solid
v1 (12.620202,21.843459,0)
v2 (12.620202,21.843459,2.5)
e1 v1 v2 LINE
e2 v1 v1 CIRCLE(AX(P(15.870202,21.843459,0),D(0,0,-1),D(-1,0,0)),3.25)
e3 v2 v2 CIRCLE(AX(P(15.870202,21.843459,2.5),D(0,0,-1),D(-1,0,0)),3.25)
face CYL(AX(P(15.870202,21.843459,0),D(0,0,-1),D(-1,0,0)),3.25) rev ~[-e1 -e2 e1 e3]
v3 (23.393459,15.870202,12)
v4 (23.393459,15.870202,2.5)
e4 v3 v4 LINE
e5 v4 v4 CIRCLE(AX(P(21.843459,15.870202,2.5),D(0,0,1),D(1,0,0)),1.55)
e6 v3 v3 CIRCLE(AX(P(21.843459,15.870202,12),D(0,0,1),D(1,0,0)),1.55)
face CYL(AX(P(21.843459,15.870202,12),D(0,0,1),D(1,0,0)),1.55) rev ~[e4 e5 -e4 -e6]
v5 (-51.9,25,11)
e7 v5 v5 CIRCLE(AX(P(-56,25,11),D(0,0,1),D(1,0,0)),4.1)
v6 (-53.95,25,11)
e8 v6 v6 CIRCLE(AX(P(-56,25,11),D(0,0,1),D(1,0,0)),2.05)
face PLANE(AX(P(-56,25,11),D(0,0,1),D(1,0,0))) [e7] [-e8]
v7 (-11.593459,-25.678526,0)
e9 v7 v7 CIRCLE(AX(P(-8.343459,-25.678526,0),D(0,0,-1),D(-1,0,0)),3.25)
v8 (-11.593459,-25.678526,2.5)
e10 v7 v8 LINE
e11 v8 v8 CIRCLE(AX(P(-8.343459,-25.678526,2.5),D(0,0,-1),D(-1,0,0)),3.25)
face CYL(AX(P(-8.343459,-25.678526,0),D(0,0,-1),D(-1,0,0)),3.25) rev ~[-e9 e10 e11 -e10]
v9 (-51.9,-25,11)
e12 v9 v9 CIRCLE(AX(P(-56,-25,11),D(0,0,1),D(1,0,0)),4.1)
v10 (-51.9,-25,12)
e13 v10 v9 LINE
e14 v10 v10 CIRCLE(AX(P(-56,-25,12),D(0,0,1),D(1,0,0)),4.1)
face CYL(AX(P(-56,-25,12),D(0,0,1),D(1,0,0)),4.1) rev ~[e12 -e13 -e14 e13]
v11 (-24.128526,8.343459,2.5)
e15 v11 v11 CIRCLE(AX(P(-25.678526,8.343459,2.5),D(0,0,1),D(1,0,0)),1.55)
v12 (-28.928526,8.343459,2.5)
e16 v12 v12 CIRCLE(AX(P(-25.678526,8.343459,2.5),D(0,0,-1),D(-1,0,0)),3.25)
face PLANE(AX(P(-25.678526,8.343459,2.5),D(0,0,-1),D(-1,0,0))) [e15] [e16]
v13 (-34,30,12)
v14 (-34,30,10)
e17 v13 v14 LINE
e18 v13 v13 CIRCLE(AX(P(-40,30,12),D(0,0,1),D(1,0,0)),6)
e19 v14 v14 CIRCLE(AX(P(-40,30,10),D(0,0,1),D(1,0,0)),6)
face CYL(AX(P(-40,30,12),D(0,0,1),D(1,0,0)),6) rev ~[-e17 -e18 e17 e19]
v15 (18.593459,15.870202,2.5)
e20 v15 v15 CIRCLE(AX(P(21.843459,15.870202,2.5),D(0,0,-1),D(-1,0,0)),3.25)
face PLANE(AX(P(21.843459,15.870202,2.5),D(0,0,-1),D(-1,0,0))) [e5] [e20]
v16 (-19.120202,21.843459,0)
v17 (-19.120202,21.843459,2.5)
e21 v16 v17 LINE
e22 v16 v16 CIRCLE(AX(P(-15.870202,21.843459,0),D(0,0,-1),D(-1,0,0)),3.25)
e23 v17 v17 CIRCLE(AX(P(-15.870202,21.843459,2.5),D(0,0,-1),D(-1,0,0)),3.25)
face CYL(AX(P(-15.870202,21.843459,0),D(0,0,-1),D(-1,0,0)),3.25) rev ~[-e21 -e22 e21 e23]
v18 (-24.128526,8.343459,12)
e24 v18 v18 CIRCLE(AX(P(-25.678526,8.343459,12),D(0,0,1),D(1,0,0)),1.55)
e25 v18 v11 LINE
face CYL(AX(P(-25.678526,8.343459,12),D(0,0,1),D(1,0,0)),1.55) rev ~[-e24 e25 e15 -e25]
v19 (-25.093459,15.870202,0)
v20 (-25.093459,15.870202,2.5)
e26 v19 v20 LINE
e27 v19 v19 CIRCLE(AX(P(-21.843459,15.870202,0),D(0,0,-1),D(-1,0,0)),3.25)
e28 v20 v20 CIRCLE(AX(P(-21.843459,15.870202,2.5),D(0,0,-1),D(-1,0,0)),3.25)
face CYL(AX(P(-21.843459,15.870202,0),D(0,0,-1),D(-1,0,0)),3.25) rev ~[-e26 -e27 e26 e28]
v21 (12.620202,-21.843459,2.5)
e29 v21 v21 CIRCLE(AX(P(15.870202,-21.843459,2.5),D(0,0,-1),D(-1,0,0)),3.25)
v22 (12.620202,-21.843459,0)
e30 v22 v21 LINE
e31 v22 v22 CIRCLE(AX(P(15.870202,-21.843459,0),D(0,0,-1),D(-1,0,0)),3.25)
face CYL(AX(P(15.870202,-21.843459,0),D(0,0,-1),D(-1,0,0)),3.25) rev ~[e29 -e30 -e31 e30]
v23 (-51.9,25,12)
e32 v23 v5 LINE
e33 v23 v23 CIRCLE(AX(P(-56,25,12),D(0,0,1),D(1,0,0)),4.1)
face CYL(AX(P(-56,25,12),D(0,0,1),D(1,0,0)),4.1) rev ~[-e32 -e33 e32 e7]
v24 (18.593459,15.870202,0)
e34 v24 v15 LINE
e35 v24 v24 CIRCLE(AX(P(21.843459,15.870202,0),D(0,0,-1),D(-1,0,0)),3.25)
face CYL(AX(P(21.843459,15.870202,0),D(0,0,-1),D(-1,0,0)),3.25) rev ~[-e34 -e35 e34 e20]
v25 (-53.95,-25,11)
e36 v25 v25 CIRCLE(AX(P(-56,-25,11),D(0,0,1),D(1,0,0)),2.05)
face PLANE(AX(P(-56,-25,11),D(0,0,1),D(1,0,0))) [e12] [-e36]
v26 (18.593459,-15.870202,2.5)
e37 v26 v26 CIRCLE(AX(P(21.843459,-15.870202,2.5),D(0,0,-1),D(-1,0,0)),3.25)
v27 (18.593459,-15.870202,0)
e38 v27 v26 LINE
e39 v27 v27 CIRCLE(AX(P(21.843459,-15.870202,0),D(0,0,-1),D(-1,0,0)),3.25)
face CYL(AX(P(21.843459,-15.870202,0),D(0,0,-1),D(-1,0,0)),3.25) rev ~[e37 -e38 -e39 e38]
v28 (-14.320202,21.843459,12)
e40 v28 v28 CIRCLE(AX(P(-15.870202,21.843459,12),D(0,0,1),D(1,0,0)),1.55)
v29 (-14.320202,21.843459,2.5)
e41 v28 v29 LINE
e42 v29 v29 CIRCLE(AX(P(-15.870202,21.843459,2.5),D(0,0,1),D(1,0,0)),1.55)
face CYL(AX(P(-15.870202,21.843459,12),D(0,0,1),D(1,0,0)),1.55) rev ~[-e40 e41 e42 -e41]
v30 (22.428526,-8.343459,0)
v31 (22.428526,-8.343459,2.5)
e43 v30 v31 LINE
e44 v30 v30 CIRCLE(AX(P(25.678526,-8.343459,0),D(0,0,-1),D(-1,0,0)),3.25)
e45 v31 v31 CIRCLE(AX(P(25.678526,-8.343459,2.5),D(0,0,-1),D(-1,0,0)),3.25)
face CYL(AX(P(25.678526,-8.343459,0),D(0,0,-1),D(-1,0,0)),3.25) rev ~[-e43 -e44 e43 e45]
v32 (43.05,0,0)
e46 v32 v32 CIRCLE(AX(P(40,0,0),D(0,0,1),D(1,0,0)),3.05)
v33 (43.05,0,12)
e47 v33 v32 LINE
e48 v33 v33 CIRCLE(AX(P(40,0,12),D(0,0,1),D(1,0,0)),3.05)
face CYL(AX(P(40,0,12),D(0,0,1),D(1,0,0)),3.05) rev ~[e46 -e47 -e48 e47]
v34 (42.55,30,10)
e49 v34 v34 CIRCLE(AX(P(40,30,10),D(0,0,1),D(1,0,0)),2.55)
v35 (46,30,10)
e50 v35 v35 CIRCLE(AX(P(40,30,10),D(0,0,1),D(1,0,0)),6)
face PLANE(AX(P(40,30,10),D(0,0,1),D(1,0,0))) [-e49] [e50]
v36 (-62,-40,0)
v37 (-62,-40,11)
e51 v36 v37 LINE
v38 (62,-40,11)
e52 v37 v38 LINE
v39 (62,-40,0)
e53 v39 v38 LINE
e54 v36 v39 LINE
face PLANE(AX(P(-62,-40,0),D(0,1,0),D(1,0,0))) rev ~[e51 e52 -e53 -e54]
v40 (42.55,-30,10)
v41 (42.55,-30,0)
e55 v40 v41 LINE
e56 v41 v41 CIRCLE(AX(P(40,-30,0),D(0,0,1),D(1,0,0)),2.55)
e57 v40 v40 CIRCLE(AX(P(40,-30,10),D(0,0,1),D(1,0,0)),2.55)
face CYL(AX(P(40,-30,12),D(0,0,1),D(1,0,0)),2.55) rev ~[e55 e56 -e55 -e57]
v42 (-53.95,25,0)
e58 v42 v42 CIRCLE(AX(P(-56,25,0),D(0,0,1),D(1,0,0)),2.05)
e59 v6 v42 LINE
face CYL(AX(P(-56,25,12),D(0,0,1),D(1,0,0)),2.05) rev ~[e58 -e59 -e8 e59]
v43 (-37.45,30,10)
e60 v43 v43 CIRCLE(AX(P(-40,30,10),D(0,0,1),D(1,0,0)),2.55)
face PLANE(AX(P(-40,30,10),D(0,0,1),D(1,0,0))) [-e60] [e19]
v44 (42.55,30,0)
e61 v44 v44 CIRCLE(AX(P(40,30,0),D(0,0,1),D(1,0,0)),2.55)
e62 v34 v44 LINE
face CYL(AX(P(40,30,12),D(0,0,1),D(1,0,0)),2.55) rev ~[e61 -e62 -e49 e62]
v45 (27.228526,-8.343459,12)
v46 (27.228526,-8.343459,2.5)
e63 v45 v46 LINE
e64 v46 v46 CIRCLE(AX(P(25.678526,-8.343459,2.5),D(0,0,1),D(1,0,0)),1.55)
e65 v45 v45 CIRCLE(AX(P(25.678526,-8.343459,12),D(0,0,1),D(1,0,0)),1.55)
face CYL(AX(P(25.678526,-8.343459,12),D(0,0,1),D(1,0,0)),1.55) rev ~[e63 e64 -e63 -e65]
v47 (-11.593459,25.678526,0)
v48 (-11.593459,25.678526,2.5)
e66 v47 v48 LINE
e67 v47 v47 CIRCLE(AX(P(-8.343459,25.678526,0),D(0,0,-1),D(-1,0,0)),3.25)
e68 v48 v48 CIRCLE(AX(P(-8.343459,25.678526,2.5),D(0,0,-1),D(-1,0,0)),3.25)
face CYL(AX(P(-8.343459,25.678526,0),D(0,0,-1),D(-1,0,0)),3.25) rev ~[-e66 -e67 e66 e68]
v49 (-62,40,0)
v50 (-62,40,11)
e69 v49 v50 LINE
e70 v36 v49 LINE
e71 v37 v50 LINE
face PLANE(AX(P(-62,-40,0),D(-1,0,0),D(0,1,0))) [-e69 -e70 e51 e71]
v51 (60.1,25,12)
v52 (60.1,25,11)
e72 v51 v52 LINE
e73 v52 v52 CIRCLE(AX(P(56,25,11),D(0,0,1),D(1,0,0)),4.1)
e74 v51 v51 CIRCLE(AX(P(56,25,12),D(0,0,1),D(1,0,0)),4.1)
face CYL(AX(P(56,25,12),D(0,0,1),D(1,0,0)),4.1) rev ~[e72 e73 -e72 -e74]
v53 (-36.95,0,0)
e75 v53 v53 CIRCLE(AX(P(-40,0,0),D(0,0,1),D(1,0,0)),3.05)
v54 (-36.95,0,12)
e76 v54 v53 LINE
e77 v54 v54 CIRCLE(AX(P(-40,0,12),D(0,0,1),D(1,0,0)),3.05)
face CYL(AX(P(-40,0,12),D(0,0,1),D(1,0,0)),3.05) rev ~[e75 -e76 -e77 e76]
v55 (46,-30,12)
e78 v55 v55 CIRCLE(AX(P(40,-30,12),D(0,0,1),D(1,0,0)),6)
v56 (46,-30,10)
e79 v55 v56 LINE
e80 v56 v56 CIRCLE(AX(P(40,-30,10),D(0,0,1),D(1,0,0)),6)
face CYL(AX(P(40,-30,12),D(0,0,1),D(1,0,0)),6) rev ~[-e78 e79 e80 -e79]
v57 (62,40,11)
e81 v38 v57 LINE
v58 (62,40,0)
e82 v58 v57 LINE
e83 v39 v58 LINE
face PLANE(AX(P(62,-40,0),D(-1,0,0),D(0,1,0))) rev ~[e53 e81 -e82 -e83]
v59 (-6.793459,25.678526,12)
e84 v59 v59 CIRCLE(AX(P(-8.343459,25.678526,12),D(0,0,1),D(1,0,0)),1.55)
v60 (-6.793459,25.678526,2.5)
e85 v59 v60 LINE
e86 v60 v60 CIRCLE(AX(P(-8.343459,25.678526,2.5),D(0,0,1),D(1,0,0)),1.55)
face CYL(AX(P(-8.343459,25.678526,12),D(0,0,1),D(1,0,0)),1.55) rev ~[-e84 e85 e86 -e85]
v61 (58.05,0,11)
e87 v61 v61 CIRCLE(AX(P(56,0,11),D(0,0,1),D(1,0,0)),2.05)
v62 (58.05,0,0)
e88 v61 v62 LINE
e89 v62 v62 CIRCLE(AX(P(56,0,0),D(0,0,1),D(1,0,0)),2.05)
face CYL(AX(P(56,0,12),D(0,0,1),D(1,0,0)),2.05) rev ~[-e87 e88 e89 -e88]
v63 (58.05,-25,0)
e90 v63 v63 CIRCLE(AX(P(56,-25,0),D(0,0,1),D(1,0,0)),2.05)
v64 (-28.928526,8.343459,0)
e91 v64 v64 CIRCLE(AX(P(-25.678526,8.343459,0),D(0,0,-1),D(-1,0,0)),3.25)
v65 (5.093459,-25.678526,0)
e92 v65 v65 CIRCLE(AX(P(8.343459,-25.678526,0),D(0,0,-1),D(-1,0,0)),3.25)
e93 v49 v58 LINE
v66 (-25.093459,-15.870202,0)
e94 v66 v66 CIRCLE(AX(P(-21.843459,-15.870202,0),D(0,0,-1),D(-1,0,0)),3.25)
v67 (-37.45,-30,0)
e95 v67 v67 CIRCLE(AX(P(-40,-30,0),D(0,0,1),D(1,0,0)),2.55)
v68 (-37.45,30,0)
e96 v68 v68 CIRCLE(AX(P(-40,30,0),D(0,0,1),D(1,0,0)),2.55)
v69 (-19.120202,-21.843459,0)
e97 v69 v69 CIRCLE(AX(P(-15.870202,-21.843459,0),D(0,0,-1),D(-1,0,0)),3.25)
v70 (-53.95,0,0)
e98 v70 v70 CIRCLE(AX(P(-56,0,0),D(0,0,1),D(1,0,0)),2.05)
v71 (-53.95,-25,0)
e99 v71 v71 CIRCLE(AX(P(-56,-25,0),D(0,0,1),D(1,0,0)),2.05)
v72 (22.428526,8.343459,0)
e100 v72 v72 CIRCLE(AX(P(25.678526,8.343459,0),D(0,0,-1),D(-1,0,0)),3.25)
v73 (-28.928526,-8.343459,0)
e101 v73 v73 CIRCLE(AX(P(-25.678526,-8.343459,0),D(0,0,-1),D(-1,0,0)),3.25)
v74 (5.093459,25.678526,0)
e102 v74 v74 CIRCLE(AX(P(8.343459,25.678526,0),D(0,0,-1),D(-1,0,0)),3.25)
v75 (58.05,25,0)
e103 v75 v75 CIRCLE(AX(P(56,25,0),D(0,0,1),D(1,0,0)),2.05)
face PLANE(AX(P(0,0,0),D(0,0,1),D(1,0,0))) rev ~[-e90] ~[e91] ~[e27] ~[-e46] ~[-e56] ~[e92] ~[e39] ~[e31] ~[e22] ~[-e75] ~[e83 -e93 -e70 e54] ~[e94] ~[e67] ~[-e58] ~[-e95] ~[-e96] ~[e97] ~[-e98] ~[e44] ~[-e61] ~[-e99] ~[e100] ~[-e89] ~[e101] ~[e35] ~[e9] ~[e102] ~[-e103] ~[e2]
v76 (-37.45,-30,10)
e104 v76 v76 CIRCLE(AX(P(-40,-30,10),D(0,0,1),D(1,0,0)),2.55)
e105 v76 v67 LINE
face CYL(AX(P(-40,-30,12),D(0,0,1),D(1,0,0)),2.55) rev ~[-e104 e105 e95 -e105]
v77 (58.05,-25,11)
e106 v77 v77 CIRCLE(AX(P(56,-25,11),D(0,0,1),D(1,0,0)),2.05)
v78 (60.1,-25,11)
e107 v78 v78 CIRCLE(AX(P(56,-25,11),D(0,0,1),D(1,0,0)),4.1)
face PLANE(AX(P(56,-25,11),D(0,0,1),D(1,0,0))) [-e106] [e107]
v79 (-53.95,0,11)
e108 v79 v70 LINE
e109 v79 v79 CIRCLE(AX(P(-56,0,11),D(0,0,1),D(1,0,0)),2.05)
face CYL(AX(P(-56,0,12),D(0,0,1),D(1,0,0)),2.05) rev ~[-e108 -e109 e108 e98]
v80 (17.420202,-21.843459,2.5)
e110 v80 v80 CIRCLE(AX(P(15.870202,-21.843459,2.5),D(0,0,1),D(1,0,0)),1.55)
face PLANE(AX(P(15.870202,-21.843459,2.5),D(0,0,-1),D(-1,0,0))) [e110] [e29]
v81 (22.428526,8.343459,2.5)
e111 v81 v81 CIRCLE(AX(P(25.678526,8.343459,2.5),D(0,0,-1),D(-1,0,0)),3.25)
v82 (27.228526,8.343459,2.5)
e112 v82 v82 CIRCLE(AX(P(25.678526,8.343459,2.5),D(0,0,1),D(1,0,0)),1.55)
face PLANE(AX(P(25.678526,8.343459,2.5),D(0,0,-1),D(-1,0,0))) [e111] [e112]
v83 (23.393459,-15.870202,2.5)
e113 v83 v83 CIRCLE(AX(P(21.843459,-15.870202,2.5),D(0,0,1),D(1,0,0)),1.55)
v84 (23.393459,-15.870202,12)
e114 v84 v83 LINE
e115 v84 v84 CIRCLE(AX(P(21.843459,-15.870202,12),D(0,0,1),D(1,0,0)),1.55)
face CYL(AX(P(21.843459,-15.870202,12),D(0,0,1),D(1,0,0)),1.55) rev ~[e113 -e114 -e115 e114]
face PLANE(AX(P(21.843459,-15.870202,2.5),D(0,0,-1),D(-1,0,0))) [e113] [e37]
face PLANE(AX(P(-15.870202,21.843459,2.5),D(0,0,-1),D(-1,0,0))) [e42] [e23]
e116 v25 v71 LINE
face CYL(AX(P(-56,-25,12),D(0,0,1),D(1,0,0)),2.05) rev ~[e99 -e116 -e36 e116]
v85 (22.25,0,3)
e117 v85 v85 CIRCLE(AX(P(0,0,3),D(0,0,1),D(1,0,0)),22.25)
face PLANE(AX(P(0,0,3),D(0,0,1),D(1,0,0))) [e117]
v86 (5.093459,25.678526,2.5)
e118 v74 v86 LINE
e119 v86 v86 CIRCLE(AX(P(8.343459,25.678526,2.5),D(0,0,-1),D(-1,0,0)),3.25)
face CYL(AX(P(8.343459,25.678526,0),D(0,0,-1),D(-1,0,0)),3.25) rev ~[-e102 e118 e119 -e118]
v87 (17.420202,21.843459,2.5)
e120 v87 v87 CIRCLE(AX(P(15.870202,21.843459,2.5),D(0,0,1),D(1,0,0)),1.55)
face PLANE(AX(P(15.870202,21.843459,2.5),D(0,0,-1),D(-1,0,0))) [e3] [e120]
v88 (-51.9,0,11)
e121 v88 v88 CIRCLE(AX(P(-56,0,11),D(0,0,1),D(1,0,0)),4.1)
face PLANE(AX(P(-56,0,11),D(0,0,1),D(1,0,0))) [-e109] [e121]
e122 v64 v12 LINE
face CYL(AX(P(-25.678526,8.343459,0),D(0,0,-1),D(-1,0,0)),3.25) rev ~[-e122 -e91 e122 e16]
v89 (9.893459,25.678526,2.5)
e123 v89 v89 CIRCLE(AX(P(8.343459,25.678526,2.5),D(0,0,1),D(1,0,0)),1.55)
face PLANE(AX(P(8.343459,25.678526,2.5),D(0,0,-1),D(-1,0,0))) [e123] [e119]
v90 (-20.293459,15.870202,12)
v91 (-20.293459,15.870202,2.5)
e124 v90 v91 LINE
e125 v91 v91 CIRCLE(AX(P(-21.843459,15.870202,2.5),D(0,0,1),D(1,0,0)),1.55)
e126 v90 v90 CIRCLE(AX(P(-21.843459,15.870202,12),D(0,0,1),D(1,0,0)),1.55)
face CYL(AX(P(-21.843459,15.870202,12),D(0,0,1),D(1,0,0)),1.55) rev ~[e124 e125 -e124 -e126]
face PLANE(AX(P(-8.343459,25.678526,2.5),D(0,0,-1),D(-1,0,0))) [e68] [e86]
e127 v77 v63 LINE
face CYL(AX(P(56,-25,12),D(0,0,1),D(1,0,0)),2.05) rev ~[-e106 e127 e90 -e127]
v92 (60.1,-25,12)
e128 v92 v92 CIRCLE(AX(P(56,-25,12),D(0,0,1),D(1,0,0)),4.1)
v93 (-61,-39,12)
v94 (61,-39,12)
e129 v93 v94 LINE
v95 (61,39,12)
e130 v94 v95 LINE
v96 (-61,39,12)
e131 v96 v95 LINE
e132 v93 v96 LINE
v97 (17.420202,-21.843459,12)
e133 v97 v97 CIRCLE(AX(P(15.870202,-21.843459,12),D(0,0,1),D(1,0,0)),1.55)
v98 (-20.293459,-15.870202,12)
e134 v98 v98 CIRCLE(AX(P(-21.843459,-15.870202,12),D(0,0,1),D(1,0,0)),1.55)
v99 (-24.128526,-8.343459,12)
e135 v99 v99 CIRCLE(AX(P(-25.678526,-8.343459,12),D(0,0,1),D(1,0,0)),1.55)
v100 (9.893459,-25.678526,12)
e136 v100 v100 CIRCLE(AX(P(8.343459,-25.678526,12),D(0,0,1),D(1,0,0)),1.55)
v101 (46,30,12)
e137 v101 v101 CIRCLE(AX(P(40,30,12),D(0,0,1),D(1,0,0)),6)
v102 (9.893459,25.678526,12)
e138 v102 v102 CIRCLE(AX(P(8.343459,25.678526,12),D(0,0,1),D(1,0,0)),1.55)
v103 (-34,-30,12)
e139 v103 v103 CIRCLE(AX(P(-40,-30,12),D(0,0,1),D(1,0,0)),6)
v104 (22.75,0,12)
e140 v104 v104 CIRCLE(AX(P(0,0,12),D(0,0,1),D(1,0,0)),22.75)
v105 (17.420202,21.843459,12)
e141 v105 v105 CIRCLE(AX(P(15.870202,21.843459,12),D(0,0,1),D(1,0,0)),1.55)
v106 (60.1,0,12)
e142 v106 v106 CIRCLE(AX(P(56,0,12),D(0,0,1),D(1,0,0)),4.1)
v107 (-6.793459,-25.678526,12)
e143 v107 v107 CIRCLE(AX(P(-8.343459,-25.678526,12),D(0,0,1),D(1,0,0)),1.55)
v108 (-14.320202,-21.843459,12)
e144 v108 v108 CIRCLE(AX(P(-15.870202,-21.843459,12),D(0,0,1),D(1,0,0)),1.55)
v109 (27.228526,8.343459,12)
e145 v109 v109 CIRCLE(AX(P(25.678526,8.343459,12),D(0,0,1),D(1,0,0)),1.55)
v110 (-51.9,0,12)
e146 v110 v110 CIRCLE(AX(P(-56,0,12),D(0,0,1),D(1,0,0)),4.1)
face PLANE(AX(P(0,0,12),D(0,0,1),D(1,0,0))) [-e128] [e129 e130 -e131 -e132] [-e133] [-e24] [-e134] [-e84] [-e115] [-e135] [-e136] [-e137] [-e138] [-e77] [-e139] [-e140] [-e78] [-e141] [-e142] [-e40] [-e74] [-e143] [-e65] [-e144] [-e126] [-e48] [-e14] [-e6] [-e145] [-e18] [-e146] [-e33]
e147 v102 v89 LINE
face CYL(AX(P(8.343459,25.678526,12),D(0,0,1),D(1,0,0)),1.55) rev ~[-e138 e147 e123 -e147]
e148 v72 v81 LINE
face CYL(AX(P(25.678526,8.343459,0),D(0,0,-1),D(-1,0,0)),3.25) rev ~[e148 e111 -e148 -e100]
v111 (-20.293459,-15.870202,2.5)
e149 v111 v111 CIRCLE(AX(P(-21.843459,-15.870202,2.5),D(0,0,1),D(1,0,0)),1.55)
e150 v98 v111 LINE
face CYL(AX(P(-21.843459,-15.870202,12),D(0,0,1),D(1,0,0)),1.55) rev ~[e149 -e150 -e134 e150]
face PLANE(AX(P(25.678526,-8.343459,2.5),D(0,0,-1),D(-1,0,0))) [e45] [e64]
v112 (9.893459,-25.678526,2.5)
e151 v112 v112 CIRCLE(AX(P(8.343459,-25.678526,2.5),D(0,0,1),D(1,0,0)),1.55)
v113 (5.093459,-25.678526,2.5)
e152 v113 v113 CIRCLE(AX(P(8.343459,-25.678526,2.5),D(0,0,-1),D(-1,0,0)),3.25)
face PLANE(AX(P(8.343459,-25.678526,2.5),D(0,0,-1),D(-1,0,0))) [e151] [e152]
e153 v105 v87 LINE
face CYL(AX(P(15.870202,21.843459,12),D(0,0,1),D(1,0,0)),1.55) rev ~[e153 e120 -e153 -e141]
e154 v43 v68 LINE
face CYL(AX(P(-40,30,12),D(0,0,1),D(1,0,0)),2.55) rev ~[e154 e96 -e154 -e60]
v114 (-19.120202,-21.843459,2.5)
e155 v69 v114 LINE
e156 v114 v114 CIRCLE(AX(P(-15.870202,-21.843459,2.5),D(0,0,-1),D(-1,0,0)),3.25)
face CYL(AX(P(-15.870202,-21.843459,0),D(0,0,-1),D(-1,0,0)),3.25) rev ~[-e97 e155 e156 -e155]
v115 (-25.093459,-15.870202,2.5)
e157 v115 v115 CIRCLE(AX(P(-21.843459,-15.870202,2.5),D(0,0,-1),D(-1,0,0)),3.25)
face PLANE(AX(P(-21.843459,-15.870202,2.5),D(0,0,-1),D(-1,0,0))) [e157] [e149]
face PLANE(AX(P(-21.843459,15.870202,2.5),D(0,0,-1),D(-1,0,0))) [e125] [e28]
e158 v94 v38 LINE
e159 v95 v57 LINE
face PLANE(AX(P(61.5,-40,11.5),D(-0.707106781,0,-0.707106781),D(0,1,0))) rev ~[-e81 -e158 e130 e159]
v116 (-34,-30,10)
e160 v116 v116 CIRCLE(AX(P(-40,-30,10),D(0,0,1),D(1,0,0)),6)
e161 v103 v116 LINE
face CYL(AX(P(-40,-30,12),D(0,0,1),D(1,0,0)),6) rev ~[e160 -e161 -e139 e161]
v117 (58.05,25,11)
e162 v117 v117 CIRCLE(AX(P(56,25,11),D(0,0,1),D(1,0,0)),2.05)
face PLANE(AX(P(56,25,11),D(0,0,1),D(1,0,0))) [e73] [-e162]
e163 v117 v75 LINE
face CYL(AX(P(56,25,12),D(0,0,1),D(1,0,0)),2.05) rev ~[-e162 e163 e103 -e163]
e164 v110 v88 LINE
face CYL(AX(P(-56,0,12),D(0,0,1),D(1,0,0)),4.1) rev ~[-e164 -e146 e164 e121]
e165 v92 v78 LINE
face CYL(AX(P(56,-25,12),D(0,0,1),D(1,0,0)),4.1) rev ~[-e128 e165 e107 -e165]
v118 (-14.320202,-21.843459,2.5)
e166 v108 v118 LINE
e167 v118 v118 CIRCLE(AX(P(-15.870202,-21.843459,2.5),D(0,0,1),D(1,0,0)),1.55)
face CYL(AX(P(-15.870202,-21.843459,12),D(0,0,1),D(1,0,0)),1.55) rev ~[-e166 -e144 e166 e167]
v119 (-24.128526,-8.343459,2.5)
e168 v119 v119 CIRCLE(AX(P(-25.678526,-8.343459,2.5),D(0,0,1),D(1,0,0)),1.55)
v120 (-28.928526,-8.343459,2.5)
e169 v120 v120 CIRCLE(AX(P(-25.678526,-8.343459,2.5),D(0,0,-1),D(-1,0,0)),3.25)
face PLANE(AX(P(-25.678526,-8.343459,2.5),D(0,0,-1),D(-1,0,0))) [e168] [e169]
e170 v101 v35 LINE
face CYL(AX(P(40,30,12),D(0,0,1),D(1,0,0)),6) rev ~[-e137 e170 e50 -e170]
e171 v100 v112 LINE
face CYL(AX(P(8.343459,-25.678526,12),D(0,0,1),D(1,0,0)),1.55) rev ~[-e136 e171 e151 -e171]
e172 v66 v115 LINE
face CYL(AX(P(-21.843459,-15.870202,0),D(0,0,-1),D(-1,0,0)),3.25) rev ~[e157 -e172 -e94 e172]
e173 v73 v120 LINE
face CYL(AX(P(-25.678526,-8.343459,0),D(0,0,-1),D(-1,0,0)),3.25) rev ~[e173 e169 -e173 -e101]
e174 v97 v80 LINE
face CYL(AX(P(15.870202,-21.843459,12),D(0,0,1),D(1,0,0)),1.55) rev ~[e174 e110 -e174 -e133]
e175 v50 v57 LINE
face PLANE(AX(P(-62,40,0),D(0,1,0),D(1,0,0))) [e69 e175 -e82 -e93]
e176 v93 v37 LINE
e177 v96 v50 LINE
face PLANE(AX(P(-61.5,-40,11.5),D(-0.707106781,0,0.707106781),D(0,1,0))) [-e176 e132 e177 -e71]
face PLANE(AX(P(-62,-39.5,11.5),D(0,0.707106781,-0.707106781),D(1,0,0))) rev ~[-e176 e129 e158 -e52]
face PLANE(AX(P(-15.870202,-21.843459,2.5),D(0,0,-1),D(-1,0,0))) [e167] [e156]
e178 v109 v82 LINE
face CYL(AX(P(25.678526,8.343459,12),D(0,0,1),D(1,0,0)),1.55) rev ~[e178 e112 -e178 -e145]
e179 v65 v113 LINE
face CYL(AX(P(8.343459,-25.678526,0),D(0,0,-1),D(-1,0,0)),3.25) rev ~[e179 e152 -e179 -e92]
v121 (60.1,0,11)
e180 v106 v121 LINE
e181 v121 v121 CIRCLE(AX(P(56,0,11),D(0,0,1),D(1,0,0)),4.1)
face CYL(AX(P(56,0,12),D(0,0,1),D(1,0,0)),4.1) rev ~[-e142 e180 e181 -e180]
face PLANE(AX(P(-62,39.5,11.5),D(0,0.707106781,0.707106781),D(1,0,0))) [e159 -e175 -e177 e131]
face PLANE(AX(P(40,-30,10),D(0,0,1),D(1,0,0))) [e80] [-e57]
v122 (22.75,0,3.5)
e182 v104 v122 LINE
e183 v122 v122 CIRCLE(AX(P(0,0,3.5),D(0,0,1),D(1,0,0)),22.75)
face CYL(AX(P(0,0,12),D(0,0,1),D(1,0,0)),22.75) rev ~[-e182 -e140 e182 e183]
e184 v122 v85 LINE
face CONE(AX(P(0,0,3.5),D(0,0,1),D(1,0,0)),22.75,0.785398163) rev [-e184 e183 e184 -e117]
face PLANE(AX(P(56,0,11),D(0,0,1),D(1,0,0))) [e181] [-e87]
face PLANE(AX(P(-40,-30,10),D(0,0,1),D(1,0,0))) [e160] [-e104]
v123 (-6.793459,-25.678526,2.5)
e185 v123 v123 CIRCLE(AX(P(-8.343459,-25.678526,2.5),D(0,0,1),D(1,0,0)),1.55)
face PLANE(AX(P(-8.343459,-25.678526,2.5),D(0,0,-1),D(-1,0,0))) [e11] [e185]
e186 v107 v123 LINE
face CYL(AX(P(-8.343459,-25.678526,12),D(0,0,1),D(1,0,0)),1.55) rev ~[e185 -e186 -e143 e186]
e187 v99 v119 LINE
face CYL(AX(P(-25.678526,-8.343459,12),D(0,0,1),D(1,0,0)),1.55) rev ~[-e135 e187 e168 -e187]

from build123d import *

# Parameters (mm, degrees)
SKETCH_1_W          = 124
SKETCH_1_H          = 80
EXTRUDE_1_DEPTH     = 12
SKETCH_2_R          = 22.75
CUT_EXTRUDE_1_DEPTH = 9
SKETCH_3_R          = 2.55
SKETCH_3_R_2        = 3.05
CUT_EXTRUDE_2_DEPTH = 75.752926364
SKETCH_4_R          = 2.05
CUT_EXTRUDE_3_DEPTH = 12
CHAMFER_1_SIZE      = 0.5
SKETCH_5_R          = 1.55
CUT_EXTRUDE_4_DEPTH = 12
SKETCH_6_R          = 3.25
CUT_EXTRUDE_5_DEPTH = 2.5
SKETCH_7_R          = 6
CUT_EXTRUDE_6_DEPTH = 2
SKETCH_8_R          = 4.1
CUT_EXTRUDE_7_DEPTH = 1
CHAMFER_2_SIZE      = 1


with BuildPart() as part:
    # Эскиз1 → Бобышка-Вытянуть1 (new body)
    with BuildSketch(Plane.XY):
        Rectangle(SKETCH_1_W, SKETCH_1_H)
    extrude(amount=EXTRUDE_1_DEPTH)

    # Эскиз2 → Вырез-Вытянуть1 (cut)
    with BuildSketch(Plane.XY.offset(12)):
        Circle(SKETCH_2_R)
    extrude(amount=-CUT_EXTRUDE_1_DEPTH, mode=Mode.SUBTRACT)

    # Эскиз3 → Вырез-Вытянуть2 (cut, through all)
    with BuildSketch(Plane.XY.offset(12)):
        with Locations((-40, 30)):
            Circle(SKETCH_3_R)
        with Locations((-40, 0)):
            Circle(SKETCH_3_R_2)
        with Locations((-40, -30)):
            Circle(SKETCH_3_R)
        with Locations((40, -30)):
            Circle(SKETCH_3_R)
        with Locations((40, 0)):
            Circle(SKETCH_3_R_2)
        with Locations((40, 30)):
            Circle(SKETCH_3_R)
    extrude(amount=-CUT_EXTRUDE_2_DEPTH, mode=Mode.SUBTRACT)

    # Эскиз4 → Вырез-Вытянуть3 (cut)
    with BuildSketch(Plane.XY.offset(12)):
        with Locations((-56, 25)):
            Circle(SKETCH_4_R)
        with Locations((-56, 0)):
            Circle(SKETCH_4_R)
        with Locations((-56, -25)):
            Circle(SKETCH_4_R)
        with Locations((56, -25)):
            Circle(SKETCH_4_R)
        with Locations((56, 0)):
            Circle(SKETCH_4_R)
        with Locations((56, 25)):
            Circle(SKETCH_4_R)
    extrude(amount=-CUT_EXTRUDE_3_DEPTH, mode=Mode.SUBTRACT)

    # Фаска1
    chamfer_1_edges = [part.edges().sort_by_distance(p)[0] for p in [
        (-22.75, 0, 3),
    ]]
    chamfer(chamfer_1_edges, length=CHAMFER_1_SIZE)

    # Эскиз5 → Вырез-Вытянуть4 (cut)
    with BuildSketch(Plane.XY.offset(12)):
        with Locations((-8.343458848, 25.67852594)):
            Circle(SKETCH_5_R)
        with Locations((8.343458848, 25.67852594)):
            Circle(SKETCH_5_R)
        with Locations((15.870201812, 21.843458848)):
            Circle(SKETCH_5_R)
        with Locations((21.843458848, 15.870201812)):
            Circle(SKETCH_5_R)
        with Locations((25.67852594, 8.343458848)):
            Circle(SKETCH_5_R)
        with Locations((25.67852594, -8.343458848)):
            Circle(SKETCH_5_R)
        with Locations((21.843458848, -15.870201812)):
            Circle(SKETCH_5_R)
        with Locations((15.870201812, -21.843458848)):
            Circle(SKETCH_5_R)
        with Locations((8.343458848, -25.67852594)):
            Circle(SKETCH_5_R)
        with Locations((-8.343458848, -25.67852594)):
            Circle(SKETCH_5_R)
        with Locations((-15.870201812, -21.843458848)):
            Circle(SKETCH_5_R)
        with Locations((-21.843458848, -15.870201812)):
            Circle(SKETCH_5_R)
        with Locations((-25.67852594, -8.343458848)):
            Circle(SKETCH_5_R)
        with Locations((-25.67852594, 8.343458848)):
            Circle(SKETCH_5_R)
        with Locations((-21.843458848, 15.870201812)):
            Circle(SKETCH_5_R)
        with Locations((-15.870201812, 21.843458848)):
            Circle(SKETCH_5_R)
    extrude(amount=-CUT_EXTRUDE_4_DEPTH, mode=Mode.SUBTRACT)

    # Эскиз6 → Вырез-Вытянуть5 (cut)
    with BuildSketch(Plane(origin=(0, 0, 0), x_dir=(-1, 0, 0), z_dir=(0, 0, -1))):
        with Locations((-8.343458848, 25.67852594)):
            Circle(SKETCH_6_R)
        with Locations((8.343458848, 25.67852594)):
            Circle(SKETCH_6_R)
        with Locations((15.870201812, 21.843458848)):
            Circle(SKETCH_6_R)
        with Locations((21.843458848, 15.870201812)):
            Circle(SKETCH_6_R)
        with Locations((25.67852594, 8.343458848)):
            Circle(SKETCH_6_R)
        with Locations((25.67852594, -8.343458848)):
            Circle(SKETCH_6_R)
        with Locations((21.843458848, -15.870201812)):
            Circle(SKETCH_6_R)
        with Locations((15.870201812, -21.843458848)):
            Circle(SKETCH_6_R)
        with Locations((8.343458848, -25.67852594)):
            Circle(SKETCH_6_R)
        with Locations((-8.343458848, -25.67852594)):
            Circle(SKETCH_6_R)
        with Locations((-15.870201812, -21.843458848)):
            Circle(SKETCH_6_R)
        with Locations((-21.843458848, -15.870201812)):
            Circle(SKETCH_6_R)
        with Locations((-25.67852594, -8.343458848)):
            Circle(SKETCH_6_R)
        with Locations((-25.67852594, 8.343458848)):
            Circle(SKETCH_6_R)
        with Locations((-21.843458848, 15.870201812)):
            Circle(SKETCH_6_R)
        with Locations((-15.870201812, 21.843458848)):
            Circle(SKETCH_6_R)
    extrude(amount=-CUT_EXTRUDE_5_DEPTH, mode=Mode.SUBTRACT)

    # Эскиз7 → Вырез-Вытянуть6 (cut)
    with BuildSketch(Plane.XY.offset(12)):
        with Locations((-40, -30)):
            Circle(SKETCH_7_R)
        with Locations((-40, 30)):
            Circle(SKETCH_7_R)
        with Locations((40, 30)):
            Circle(SKETCH_7_R)
        with Locations((40, -30)):
            Circle(SKETCH_7_R)
    extrude(amount=-CUT_EXTRUDE_6_DEPTH, mode=Mode.SUBTRACT)

    # Эскиз8 → Вырез-Вытянуть7 (cut)
    with BuildSketch(Plane.XY.offset(12)):
        with Locations((-56, 25)):
            Circle(SKETCH_8_R)
        with Locations((-56, 0)):
            Circle(SKETCH_8_R)
        with Locations((-56, -25)):
            Circle(SKETCH_8_R)
        with Locations((56, -25)):
            Circle(SKETCH_8_R)
        with Locations((56, 0)):
            Circle(SKETCH_8_R)
        with Locations((56, 25)):
            Circle(SKETCH_8_R)
    extrude(amount=-CUT_EXTRUDE_7_DEPTH, mode=Mode.SUBTRACT)

    # Фаска2
    chamfer_2_edges = [part.edges().sort_by_distance(p)[0] for p in [
        (-62, 0, 12),
        (0, -40, 12),
        (62, 0, 12),
        (0, 40, 12),
    ]]
    chamfer(chamfer_2_edges, length=CHAMFER_2_SIZE)


solid = part.part
